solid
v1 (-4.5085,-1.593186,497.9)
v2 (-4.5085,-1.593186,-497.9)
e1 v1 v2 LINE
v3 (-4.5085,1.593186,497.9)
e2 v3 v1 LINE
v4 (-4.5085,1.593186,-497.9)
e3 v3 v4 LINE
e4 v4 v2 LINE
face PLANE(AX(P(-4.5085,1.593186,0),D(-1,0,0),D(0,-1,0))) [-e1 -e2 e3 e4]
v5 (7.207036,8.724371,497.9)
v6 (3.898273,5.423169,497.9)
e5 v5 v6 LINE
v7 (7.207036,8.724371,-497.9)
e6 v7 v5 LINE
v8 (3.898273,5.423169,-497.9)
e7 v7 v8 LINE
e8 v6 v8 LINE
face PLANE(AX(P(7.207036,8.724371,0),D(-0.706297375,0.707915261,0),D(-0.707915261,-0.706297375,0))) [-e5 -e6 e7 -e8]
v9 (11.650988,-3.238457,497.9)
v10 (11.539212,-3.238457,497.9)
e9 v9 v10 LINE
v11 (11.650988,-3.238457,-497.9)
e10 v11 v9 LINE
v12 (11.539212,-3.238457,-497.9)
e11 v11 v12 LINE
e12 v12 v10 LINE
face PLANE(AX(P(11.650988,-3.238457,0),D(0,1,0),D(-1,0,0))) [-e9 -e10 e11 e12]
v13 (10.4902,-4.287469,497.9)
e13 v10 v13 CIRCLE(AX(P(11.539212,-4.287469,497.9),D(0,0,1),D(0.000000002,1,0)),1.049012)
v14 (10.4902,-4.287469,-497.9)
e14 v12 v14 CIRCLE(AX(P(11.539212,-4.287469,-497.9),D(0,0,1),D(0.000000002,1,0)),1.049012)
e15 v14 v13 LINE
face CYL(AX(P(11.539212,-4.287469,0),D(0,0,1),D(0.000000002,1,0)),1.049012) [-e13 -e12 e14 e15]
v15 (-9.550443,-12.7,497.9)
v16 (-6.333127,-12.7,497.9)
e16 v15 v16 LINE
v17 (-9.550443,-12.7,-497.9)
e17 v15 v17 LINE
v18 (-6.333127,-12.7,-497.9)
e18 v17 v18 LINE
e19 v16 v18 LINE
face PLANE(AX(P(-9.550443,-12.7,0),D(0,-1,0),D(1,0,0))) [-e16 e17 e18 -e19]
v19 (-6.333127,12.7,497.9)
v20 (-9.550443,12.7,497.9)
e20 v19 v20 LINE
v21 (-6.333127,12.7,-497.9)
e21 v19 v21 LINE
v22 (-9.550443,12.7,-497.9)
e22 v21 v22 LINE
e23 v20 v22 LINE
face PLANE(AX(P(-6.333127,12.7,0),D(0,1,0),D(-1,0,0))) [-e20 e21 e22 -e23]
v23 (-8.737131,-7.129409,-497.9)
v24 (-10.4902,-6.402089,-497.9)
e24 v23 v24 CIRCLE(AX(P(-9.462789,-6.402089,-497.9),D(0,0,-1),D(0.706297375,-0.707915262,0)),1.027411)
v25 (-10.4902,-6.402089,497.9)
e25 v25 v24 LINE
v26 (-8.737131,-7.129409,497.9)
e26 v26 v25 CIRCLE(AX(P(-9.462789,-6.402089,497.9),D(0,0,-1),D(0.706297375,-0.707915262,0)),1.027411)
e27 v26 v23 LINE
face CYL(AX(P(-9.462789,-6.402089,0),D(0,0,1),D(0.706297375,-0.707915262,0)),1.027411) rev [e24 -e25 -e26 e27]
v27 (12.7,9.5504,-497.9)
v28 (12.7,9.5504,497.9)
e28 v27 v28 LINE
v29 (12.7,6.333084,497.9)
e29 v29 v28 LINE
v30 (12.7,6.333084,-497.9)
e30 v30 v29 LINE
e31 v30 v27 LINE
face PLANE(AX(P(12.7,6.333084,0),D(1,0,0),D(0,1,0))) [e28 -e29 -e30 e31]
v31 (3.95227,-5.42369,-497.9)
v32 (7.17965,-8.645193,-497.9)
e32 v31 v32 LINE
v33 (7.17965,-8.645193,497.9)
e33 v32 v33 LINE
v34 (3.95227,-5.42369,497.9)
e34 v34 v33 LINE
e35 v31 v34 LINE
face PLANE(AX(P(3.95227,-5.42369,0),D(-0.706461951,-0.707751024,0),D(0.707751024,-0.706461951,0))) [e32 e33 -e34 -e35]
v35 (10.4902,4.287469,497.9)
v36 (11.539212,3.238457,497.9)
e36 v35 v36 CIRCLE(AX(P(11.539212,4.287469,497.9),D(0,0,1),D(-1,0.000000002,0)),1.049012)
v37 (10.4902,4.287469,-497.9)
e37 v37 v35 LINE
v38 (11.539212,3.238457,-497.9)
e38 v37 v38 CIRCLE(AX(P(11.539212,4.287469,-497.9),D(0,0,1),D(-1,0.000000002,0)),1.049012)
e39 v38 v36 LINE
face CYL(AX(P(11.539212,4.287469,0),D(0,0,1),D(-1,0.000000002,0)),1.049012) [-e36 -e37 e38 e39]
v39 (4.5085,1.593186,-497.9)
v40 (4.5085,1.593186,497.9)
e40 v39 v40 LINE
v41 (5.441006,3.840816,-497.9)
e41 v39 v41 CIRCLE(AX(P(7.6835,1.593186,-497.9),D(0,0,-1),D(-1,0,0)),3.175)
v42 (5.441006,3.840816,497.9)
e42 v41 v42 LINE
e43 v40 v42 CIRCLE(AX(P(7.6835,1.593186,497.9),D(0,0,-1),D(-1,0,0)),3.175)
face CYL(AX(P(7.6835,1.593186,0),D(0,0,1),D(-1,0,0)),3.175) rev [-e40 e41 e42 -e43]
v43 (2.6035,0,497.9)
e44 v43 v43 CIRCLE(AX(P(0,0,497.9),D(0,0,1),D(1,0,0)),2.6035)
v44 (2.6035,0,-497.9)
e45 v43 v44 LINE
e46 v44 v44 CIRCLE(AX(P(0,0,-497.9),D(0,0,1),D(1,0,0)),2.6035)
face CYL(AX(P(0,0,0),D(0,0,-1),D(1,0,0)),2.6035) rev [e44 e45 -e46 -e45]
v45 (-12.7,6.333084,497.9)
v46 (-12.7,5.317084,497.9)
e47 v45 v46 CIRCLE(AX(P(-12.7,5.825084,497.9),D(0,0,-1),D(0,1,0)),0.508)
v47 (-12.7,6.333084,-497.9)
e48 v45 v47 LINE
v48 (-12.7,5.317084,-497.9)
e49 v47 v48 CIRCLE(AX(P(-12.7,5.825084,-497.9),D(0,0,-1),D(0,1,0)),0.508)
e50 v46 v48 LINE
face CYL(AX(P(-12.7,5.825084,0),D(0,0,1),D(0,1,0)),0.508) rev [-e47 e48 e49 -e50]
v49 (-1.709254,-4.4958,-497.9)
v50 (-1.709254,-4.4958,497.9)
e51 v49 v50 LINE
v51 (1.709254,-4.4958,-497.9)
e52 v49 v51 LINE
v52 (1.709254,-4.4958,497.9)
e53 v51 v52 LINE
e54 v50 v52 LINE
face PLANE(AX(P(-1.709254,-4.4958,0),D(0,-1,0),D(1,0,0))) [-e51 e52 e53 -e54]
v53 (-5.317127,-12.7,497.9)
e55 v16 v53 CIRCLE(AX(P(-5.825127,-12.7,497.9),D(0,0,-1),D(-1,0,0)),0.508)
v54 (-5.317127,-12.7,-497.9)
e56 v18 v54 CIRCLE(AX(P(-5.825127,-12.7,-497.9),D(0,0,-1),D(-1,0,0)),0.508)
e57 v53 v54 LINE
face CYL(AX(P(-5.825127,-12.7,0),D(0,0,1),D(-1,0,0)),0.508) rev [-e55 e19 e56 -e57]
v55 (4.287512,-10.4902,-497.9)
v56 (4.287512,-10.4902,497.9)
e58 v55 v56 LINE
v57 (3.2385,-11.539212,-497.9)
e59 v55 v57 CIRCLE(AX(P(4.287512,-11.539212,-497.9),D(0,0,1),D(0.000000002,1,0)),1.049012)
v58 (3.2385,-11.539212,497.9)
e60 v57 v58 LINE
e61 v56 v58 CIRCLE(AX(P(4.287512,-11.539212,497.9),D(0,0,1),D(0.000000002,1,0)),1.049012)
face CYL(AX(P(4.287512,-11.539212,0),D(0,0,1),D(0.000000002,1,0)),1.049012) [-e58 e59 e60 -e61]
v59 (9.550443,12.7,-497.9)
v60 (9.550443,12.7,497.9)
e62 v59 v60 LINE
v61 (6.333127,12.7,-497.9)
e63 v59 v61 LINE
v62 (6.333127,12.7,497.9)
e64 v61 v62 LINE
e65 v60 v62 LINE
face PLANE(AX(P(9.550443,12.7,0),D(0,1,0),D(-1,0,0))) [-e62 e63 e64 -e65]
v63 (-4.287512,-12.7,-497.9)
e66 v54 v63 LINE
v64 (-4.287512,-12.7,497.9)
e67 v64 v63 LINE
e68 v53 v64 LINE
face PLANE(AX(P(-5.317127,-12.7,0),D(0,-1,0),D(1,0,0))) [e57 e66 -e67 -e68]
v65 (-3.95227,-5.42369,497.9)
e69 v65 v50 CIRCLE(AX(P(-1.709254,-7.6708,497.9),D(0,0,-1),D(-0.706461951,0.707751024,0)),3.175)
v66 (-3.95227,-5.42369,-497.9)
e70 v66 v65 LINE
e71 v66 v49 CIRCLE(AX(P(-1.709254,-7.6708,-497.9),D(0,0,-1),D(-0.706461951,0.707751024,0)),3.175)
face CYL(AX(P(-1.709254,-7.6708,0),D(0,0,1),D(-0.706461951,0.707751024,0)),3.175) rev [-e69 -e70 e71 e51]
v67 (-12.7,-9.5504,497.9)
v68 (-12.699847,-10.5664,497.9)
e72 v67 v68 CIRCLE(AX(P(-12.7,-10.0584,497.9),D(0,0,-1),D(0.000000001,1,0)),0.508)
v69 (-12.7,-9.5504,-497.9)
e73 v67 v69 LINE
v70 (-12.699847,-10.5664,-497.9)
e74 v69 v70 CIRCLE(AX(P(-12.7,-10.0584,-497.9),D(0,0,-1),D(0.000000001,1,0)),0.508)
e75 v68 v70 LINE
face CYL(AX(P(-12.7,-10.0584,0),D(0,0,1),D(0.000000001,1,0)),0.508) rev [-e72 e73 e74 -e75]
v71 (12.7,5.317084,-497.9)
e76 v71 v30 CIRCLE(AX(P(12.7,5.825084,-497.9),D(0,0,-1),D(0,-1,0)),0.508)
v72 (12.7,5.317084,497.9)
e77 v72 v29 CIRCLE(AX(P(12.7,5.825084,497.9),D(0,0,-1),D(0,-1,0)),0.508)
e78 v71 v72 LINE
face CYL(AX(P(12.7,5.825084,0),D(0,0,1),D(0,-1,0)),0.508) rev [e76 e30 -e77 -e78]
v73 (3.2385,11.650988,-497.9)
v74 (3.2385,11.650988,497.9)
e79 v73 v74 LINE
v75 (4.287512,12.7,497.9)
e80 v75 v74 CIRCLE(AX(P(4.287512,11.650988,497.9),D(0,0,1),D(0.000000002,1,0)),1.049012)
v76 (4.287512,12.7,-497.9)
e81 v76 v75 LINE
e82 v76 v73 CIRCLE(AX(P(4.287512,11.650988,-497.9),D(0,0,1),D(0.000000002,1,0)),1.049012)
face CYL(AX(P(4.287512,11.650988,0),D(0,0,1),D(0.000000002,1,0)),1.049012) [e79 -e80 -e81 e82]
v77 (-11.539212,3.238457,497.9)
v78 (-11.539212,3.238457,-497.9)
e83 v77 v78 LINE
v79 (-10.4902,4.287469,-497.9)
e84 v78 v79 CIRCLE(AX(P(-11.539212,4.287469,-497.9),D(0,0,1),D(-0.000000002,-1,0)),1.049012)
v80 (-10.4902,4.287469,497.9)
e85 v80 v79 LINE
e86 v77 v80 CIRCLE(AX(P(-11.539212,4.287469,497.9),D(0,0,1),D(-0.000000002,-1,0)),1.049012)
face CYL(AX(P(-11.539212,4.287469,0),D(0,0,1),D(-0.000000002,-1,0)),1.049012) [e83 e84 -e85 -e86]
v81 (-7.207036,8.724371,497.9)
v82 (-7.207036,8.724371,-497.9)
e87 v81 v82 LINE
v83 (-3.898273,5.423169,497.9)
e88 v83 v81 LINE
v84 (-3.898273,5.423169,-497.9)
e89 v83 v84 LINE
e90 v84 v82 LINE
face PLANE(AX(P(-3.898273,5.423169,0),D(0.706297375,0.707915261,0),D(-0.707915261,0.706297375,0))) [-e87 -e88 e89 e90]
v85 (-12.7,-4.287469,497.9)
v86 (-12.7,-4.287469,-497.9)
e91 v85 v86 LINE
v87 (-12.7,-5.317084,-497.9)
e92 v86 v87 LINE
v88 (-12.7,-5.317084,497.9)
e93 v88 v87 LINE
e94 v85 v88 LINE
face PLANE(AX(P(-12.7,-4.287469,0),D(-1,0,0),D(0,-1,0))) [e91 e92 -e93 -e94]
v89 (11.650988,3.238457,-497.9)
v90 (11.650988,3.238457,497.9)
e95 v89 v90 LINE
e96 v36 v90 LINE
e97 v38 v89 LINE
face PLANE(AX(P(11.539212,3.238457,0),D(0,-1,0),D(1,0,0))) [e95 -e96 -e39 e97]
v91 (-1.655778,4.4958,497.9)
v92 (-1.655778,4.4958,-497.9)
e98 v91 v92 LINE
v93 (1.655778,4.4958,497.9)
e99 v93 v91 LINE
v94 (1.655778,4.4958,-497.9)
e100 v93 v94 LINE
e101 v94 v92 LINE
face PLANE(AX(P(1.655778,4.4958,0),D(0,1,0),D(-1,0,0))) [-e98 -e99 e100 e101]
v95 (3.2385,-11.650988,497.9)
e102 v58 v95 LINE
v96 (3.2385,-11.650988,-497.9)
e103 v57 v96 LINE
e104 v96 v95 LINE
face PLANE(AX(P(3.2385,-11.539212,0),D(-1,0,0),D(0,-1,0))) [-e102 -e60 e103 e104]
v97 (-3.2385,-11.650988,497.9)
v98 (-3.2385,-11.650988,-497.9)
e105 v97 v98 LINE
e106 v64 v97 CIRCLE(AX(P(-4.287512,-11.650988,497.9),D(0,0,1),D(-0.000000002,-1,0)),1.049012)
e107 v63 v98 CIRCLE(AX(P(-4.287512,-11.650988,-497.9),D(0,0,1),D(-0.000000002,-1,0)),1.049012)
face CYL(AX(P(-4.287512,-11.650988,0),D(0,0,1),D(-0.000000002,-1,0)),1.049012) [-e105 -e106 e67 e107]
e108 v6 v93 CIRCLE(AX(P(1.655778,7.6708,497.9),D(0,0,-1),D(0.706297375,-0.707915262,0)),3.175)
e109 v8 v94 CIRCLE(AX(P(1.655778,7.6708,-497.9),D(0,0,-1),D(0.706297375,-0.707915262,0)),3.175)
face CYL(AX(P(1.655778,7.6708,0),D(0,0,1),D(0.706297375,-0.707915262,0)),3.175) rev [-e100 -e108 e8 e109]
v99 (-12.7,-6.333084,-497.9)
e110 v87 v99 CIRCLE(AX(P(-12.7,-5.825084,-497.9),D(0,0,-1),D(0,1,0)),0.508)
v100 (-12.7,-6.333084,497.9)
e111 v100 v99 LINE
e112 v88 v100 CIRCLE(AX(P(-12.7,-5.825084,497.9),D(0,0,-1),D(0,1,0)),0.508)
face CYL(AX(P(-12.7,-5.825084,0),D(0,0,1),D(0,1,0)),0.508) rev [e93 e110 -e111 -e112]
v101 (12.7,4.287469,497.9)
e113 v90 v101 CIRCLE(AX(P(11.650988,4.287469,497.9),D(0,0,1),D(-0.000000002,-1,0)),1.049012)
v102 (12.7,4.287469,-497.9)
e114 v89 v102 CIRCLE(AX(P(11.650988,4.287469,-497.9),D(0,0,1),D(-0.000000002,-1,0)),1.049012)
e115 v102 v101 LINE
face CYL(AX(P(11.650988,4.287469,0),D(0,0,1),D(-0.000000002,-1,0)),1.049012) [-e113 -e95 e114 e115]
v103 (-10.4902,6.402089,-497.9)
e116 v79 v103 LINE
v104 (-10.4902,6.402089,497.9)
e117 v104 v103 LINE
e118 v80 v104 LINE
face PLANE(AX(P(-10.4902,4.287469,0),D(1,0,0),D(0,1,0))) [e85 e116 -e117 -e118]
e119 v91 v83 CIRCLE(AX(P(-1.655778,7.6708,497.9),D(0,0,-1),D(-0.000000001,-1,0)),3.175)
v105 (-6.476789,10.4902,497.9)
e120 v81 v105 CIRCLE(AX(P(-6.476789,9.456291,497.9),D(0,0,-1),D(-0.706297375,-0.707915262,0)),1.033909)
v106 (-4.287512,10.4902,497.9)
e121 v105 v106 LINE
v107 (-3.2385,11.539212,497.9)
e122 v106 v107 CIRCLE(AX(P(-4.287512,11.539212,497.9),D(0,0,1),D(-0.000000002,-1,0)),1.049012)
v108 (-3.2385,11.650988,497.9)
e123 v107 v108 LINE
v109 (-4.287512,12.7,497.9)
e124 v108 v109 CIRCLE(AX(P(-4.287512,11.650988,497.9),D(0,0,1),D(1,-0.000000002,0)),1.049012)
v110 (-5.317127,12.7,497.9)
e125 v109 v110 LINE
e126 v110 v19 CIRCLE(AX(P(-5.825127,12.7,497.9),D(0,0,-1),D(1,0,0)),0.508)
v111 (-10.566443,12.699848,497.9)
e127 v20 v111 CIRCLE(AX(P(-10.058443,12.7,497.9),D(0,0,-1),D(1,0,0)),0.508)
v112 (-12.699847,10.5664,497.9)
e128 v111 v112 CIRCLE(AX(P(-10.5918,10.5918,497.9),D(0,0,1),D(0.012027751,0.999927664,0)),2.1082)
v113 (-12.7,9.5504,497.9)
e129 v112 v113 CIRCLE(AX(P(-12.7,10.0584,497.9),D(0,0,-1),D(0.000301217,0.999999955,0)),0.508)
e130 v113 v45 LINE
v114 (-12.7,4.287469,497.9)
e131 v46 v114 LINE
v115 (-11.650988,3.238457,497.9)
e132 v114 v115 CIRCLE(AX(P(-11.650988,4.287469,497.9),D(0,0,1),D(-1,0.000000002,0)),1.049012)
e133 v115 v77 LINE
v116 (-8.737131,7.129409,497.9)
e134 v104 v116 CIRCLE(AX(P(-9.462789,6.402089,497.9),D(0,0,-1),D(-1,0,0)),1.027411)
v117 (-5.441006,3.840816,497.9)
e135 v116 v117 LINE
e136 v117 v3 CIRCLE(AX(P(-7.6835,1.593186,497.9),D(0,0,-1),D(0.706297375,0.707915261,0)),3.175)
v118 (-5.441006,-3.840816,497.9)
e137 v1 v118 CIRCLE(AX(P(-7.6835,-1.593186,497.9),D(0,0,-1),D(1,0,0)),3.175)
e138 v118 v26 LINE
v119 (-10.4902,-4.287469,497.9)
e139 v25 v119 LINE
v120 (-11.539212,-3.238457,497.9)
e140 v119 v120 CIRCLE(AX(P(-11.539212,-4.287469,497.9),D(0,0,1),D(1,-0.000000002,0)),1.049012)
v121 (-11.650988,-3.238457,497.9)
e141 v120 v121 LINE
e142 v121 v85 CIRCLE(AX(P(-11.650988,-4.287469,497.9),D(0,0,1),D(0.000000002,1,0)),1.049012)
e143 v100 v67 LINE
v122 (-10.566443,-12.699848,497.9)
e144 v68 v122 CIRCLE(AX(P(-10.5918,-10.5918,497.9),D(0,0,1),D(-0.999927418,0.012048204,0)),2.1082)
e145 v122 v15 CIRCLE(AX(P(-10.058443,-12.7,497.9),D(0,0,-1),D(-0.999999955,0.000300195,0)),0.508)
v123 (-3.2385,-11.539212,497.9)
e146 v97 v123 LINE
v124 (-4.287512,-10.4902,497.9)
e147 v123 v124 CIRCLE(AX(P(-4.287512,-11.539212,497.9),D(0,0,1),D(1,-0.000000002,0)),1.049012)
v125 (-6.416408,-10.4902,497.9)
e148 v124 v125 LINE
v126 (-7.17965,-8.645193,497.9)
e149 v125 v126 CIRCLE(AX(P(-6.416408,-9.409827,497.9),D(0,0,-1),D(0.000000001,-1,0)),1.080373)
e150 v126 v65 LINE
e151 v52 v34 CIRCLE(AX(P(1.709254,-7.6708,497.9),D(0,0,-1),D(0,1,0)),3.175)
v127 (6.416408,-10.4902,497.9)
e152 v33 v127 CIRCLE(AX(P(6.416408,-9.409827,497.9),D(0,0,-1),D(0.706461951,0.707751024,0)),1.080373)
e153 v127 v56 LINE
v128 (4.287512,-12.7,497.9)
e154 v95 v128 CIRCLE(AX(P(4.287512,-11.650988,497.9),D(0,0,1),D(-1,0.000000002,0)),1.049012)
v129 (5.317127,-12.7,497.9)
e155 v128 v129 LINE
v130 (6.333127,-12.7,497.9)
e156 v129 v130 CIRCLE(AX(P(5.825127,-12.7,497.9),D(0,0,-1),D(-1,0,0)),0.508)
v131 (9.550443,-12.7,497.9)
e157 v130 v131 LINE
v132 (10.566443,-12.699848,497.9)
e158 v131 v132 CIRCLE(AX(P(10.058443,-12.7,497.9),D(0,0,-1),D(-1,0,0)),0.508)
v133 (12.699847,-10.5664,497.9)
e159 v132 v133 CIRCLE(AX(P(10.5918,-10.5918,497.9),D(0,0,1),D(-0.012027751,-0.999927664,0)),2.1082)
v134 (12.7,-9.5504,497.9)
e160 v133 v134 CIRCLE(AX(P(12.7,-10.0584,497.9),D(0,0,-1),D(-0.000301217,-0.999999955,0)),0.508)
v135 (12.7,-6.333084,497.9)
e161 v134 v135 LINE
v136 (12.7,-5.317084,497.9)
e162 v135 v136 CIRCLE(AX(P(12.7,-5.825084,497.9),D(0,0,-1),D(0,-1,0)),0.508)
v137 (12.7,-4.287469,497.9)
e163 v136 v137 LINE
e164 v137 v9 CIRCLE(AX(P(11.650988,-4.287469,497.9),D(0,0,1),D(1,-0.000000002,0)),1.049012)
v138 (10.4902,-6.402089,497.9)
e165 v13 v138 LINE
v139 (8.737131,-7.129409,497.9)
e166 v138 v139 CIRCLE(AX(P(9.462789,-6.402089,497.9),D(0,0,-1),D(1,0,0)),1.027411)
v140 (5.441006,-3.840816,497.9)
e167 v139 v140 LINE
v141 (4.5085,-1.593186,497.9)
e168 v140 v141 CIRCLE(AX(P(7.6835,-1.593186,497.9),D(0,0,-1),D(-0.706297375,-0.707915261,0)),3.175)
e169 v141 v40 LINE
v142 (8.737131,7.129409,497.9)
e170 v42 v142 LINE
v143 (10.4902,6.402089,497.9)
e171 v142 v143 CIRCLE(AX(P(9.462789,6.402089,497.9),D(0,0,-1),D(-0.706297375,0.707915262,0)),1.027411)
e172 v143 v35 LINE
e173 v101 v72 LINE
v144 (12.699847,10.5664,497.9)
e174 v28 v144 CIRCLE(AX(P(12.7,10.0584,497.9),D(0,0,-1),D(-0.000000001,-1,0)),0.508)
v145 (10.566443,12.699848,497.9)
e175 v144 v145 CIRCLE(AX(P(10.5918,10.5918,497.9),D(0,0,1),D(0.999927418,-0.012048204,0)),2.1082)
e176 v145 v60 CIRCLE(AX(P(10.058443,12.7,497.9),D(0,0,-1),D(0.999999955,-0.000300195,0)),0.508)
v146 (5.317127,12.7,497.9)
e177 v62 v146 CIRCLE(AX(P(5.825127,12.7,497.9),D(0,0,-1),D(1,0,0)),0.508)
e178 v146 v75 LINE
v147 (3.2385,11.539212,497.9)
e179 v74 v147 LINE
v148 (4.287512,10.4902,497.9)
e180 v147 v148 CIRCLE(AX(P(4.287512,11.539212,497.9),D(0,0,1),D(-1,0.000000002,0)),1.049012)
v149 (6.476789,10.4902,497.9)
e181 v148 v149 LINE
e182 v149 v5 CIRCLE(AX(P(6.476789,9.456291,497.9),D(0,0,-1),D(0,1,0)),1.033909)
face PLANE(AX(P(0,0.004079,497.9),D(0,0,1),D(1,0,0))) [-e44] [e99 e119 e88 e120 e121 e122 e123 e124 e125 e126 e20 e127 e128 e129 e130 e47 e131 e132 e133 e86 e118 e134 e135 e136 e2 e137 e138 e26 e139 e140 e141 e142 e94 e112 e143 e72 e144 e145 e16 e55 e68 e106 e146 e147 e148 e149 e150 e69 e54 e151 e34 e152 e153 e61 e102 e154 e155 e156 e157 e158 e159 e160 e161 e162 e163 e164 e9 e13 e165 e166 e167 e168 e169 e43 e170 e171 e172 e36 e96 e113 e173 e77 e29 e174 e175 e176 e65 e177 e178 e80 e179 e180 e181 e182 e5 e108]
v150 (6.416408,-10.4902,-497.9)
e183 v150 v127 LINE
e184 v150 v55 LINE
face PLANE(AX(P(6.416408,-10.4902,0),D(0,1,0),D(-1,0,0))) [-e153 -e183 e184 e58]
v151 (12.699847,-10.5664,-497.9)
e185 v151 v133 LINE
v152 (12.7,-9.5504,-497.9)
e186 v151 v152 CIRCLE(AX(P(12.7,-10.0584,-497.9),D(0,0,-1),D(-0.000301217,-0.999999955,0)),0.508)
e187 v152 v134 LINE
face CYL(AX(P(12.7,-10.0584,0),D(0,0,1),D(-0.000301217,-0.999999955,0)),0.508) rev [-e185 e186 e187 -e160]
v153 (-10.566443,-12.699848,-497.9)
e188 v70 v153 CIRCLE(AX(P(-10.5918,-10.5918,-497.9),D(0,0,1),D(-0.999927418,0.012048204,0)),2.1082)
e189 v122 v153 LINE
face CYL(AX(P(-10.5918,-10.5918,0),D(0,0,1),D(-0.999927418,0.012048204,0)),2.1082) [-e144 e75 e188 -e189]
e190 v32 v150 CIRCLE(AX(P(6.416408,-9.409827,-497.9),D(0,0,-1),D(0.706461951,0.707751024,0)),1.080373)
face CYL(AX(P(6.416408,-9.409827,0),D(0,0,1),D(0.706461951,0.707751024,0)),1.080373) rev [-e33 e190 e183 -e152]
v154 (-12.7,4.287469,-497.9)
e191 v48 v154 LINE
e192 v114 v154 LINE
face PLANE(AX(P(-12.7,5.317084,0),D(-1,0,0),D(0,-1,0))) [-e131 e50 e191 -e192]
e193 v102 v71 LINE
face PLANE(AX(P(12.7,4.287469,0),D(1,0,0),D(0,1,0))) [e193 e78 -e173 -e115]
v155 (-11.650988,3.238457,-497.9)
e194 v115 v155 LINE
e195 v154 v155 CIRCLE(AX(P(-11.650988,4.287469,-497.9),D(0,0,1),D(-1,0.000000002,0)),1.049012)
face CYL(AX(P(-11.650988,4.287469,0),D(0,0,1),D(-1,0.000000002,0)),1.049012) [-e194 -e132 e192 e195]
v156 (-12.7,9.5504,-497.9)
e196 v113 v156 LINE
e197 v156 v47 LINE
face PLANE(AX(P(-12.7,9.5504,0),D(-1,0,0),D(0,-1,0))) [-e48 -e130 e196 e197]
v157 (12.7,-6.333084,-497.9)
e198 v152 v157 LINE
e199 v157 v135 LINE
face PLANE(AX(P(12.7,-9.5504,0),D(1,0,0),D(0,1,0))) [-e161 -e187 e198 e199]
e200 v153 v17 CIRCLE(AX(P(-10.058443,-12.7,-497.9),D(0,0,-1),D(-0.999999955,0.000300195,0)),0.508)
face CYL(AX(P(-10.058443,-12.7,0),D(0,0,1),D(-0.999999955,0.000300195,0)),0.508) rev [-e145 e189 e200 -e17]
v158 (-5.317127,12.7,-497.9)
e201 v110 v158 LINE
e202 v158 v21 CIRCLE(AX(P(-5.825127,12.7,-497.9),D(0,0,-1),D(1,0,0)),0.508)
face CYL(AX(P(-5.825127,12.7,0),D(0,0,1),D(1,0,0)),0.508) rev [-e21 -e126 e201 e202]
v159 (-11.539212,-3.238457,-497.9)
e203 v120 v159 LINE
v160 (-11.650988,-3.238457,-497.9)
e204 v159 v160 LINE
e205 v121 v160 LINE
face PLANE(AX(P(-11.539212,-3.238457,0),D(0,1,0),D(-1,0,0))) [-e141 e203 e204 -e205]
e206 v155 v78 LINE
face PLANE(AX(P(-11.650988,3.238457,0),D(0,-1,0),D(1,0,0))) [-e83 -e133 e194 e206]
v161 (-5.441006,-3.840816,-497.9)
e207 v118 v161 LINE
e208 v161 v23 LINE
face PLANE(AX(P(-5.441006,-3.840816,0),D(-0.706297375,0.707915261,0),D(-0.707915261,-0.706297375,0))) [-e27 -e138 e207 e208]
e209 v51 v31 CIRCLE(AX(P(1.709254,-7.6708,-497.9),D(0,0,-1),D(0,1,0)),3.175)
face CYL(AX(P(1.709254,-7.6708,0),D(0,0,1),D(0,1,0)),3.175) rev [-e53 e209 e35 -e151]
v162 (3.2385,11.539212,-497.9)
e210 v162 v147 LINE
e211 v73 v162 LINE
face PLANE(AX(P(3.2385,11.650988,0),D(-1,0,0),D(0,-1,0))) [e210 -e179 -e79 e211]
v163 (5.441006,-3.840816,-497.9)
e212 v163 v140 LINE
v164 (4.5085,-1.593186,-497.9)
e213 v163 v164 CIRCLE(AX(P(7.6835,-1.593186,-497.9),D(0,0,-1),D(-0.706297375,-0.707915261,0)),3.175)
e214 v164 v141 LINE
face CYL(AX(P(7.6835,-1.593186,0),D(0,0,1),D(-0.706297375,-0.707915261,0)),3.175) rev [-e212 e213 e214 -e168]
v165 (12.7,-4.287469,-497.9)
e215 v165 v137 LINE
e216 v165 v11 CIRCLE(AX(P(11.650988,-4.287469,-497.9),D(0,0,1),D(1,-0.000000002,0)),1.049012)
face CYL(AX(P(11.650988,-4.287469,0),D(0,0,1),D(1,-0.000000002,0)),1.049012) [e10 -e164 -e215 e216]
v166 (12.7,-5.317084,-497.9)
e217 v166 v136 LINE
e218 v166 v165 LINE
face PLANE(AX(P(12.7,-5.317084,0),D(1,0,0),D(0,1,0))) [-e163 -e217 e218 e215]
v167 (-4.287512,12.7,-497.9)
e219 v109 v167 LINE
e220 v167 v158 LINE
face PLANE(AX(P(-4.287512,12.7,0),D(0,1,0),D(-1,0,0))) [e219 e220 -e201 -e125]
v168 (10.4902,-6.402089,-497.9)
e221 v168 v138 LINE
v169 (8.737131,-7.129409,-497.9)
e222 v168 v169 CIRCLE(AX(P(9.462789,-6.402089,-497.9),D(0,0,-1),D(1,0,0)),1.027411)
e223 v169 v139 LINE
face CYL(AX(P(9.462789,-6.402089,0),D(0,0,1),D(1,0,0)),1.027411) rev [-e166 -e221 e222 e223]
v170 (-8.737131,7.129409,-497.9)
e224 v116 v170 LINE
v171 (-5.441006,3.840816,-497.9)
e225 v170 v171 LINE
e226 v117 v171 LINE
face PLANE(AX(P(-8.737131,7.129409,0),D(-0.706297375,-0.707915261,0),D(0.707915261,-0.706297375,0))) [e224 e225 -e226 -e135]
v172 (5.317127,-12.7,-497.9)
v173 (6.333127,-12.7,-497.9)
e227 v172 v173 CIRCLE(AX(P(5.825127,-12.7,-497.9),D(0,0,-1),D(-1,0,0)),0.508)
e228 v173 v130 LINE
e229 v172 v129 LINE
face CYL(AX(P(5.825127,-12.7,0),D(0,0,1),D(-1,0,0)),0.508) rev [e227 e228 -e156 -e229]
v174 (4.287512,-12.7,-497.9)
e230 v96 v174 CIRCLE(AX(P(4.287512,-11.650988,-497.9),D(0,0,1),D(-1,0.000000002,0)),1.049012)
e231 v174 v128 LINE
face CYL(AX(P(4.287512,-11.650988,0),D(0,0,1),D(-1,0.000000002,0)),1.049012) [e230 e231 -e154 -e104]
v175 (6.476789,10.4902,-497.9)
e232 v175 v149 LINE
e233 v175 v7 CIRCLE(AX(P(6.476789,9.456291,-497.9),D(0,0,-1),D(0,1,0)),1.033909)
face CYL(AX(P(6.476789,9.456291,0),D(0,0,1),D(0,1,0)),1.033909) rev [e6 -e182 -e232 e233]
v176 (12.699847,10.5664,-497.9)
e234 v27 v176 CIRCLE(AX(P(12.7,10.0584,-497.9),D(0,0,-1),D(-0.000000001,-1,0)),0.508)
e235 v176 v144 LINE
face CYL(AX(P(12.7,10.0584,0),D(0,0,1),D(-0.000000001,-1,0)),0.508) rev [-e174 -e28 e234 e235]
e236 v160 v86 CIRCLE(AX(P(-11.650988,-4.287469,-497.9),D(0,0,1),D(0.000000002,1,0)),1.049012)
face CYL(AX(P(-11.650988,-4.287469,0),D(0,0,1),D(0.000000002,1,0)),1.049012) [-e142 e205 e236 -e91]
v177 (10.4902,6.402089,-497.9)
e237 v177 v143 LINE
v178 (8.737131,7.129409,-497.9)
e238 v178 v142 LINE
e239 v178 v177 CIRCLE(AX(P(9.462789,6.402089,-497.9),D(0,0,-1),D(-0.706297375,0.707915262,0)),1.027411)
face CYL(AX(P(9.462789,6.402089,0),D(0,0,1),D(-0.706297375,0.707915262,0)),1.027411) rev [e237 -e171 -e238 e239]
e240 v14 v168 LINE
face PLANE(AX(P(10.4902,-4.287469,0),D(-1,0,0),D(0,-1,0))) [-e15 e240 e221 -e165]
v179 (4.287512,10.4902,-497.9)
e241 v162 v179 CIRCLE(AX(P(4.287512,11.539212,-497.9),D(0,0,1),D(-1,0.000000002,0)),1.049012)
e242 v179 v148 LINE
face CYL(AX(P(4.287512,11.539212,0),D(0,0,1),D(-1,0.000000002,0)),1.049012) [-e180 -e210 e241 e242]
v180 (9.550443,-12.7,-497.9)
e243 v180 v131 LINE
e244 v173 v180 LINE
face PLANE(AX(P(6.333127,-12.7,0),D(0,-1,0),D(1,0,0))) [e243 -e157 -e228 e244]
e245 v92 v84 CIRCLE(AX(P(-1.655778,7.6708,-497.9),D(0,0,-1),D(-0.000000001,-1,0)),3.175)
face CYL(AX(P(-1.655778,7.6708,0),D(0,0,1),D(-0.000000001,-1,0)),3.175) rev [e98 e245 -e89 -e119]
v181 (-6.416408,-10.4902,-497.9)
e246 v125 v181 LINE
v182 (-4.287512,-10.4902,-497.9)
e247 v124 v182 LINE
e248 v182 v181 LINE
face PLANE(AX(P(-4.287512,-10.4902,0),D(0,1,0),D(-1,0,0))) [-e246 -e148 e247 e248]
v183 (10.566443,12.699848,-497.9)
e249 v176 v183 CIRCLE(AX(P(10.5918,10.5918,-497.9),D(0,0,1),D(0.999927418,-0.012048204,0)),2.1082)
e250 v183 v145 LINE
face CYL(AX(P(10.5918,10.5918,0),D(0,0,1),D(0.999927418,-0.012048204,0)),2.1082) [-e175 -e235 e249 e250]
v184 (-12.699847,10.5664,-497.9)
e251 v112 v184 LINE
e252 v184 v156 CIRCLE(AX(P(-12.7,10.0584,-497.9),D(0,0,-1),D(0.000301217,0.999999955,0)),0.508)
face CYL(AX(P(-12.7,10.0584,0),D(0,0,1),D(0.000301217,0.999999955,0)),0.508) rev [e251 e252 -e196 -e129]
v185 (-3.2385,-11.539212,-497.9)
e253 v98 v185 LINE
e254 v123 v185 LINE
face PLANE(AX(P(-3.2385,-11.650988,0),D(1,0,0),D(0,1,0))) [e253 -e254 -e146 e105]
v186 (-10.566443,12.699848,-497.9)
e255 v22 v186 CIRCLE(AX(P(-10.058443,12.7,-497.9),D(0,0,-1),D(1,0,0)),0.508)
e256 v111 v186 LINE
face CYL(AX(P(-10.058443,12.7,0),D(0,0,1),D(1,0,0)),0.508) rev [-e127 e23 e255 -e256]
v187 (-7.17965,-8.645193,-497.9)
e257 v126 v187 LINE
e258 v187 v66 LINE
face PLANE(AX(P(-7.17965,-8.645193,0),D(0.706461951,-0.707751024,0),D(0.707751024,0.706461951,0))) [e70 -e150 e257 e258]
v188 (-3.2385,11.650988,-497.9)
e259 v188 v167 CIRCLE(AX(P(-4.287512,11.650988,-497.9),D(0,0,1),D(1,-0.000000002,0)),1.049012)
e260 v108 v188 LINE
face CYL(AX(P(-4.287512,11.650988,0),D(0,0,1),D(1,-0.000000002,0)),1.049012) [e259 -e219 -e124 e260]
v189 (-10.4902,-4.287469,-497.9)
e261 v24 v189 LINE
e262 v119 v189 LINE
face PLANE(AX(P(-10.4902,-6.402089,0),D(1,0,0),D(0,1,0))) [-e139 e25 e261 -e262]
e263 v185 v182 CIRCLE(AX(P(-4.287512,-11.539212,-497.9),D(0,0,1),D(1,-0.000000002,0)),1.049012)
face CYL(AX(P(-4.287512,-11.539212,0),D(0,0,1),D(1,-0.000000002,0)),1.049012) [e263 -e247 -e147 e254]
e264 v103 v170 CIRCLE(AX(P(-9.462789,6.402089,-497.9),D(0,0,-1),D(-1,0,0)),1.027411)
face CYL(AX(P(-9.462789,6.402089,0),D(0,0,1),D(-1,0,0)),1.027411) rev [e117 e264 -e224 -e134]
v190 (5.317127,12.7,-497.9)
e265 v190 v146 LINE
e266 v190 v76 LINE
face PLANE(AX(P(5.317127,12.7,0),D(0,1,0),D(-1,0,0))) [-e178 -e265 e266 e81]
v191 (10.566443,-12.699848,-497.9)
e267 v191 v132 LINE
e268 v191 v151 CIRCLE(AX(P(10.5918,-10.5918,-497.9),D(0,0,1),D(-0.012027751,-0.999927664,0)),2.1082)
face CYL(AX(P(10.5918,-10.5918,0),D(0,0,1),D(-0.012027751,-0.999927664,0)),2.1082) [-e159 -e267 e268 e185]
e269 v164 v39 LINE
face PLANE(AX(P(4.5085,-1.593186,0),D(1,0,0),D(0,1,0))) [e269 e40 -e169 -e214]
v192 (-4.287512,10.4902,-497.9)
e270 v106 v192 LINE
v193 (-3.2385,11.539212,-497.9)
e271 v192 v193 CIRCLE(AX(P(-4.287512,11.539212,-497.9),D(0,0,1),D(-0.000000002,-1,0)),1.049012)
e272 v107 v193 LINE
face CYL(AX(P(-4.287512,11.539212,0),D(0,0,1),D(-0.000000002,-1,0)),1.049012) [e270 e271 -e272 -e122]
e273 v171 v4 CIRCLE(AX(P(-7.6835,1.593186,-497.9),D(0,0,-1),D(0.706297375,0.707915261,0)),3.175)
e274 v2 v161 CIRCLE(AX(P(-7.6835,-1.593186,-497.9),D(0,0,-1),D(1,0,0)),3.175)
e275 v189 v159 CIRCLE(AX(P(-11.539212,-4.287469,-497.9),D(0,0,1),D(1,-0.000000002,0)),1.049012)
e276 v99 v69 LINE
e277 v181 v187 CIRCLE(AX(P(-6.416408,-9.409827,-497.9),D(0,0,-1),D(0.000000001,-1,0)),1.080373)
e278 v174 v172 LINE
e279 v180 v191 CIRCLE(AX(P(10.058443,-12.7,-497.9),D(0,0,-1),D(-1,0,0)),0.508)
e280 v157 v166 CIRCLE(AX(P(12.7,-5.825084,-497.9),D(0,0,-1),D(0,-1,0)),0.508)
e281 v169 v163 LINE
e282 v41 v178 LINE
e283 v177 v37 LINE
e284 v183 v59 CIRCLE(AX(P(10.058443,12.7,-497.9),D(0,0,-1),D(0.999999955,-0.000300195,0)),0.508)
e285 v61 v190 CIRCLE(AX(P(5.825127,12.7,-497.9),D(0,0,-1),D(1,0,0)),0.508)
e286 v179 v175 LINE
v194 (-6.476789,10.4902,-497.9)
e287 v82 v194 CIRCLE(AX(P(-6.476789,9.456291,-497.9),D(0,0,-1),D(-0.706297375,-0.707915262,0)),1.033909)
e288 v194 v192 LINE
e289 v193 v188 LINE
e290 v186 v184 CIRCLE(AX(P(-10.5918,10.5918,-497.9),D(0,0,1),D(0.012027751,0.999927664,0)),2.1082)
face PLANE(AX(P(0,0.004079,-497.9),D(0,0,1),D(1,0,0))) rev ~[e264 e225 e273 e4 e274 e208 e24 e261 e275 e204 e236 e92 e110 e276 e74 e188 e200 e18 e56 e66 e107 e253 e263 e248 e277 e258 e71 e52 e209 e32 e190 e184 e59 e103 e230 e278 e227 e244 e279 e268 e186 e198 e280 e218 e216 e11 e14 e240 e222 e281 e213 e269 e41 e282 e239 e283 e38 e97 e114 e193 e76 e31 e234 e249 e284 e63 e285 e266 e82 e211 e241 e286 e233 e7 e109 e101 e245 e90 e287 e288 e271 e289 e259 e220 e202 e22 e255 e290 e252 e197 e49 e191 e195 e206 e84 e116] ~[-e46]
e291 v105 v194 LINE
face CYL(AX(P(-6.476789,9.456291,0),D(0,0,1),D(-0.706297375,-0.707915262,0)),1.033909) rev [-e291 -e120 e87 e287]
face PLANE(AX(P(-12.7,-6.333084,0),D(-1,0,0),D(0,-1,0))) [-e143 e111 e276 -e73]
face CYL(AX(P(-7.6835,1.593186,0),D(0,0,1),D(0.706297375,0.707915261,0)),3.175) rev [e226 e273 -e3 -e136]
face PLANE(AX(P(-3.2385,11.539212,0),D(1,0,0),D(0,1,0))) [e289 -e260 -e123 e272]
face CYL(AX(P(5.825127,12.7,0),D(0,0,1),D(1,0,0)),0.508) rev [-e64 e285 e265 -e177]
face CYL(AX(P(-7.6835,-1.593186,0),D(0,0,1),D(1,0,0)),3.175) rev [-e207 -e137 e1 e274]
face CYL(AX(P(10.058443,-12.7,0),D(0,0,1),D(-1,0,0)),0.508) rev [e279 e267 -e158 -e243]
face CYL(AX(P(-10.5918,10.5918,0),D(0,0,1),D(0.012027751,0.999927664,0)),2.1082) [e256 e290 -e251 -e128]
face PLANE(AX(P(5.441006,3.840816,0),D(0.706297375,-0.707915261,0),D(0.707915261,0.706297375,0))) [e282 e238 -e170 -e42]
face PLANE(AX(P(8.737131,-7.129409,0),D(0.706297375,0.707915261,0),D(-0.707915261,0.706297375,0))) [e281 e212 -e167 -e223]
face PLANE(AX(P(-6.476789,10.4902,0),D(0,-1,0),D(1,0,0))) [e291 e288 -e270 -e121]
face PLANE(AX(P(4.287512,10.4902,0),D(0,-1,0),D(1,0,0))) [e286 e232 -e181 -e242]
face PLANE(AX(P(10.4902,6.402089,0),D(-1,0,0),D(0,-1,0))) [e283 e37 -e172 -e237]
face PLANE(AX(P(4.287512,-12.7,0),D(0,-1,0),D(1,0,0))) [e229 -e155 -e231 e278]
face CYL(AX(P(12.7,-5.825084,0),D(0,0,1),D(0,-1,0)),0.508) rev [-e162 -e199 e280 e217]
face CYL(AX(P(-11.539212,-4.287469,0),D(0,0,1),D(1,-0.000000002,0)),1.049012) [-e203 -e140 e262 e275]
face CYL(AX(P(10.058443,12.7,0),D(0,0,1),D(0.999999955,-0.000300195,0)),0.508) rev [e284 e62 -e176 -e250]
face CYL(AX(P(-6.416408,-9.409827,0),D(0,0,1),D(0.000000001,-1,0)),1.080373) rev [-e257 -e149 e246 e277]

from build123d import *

# Parameters (mm, degrees)
SKETCH1_R           = 2.6035
BOSS_EXTRUDE1_DEPTH = 497.9


with BuildPart() as part:
    # Sketch1 → Boss-Extrude1 (new body, symmetric)
    with BuildSketch(Plane.XY):
        with BuildLine():
            Line((-7.179650497, -8.645192506), (-3.952270251, -5.423690499))
            ThreePointArc((-3.952270251, -5.423690499), (-2.922936451, -4.736929036), (-1.709253557, -4.4958))
            Line((-1.709253557, -4.4958), (1.709253557, -4.4958))
            ThreePointArc((1.709253557, -4.4958), (2.922936451, -4.736929036), (3.952270251, -5.423690499))
            Line((3.952270251, -5.423690499), (7.179650497, -8.645192506))
            ThreePointArc((7.179650497, -8.645192506), (7.41473083, -9.822813117), (6.416408329, -10.4902))
            Line((6.416408329, -10.4902), (4.287512407, -10.4902))
            ThreePointArc((4.287512407, -10.4902), (3.54574862, -10.79744862), (3.2385, -11.539212407))
            Line((3.2385, -11.539212407), (3.2385, -11.650987593))
            ThreePointArc((3.2385, -11.650987593), (3.54574862, -12.39275138), (4.287512407, -12.7))
            Line((4.287512407, -12.7), (5.317126718, -12.7))
            ThreePointArc((5.317126718, -12.7), (5.825126718, -12.192), (6.333126718, -12.7))
            Line((6.333126718, -12.7), (9.550443118, -12.7))
            ThreePointArc((9.550443118, -12.7), (10.058366869, -12.192000006), (10.566443095, -12.699847501))
            ThreePointArc((10.566443095, -12.699847501), (12.082537762, -12.08250727), (12.699846982, -10.566399977))
            ThreePointArc((12.699846982, -10.566399977), (12.192000006, -10.058323491), (12.7, -9.5504))
            Line((12.7, -9.5504), (12.7, -6.3330836))
            ThreePointArc((12.7, -6.3330836), (12.192, -5.8250836), (12.7, -5.3170836))
            Line((12.7, -5.3170836), (12.7, -4.287469289))
            ThreePointArc((12.7, -4.287469289), (12.39275138, -3.545705502), (11.650987593, -3.238456882))
            Line((11.650987593, -3.238456882), (11.539212407, -3.238456882))
            ThreePointArc((11.539212407, -3.238456882), (10.79744862, -3.545705502), (10.4902, -4.287469289))
            Line((10.4902, -4.287469289), (10.4902, -6.402089023))
            ThreePointArc((10.4902, -6.402089023), (9.856505071, -7.351067942), (8.737131347, -7.129408934))
            Line((8.737131347, -7.129408934), (5.441005833, -3.840816462))
            ThreePointArc((5.441005833, -3.840816462), (4.750877967, -2.809883091), (4.5085, -1.593185507))
            Line((4.5085, -1.593185507), (4.5085, 1.593185507))
            ThreePointArc((4.5085, 1.593185507), (4.750877967, 2.809883091), (5.441005833, 3.840816462))
            Line((5.441005833, 3.840816462), (8.737131347, 7.129408934))
            ThreePointArc((8.737131347, 7.129408934), (9.856505071, 7.351067942), (10.4902, 6.402089023))
            Line((10.4902, 6.402089023), (10.4902, 4.287469289))
            ThreePointArc((10.4902, 4.287469289), (10.79744862, 3.545705502), (11.539212407, 3.238456882))
            Line((11.539212407, 3.238456882), (11.650987593, 3.238456882))
            ThreePointArc((11.650987593, 3.238456882), (12.39275138, 3.545705502), (12.7, 4.287469289))
            Line((12.7, 4.287469289), (12.7, 5.3170836))
            ThreePointArc((12.7, 5.3170836), (12.192, 5.8250836), (12.7, 6.3330836))
            Line((12.7, 6.3330836), (12.7, 9.5504))
            ThreePointArc((12.7, 9.5504), (12.192000006, 10.058323491), (12.699846982, 10.566399977))
            ThreePointArc((12.699846982, 10.566399977), (12.082537762, 12.08250727), (10.566443095, 12.699847501))
            ThreePointArc((10.566443095, 12.699847501), (10.058366869, 12.192000006), (9.550443118, 12.7))
            Line((9.550443118, 12.7), (6.333126718, 12.7))
            ThreePointArc((6.333126718, 12.7), (5.825126718, 12.192), (5.317126718, 12.7))
            Line((5.317126718, 12.7), (4.287512407, 12.7))
            ThreePointArc((4.287512407, 12.7), (3.54574862, 12.39275138), (3.2385, 11.650987593))
            Line((3.2385, 11.650987593), (3.2385, 11.539212407))
            ThreePointArc((3.2385, 11.539212407), (3.54574862, 10.79744862), (4.287512407, 10.4902))
            Line((4.287512407, 10.4902), (6.476788598, 10.4902))
            ThreePointArc((6.476788598, 10.4902), (7.432222385, 9.85140422), (7.207036008, 8.724370562))
            Line((7.207036008, 8.724370562), (3.898272566, 5.423169045))
            ThreePointArc((3.898272566, 5.423169045), (2.869120213, 4.736787962), (1.655778399, 4.4958))
            Line((1.655778399, 4.4958), (-1.655778399, 4.4958))
            ThreePointArc((-1.655778399, 4.4958), (-2.869120213, 4.736787962), (-3.898272566, 5.423169045))
            Line((-3.898272566, 5.423169045), (-7.207036008, 8.724370562))
            ThreePointArc((-7.207036008, 8.724370562), (-7.432222385, 9.85140422), (-6.476788598, 10.4902))
            Line((-6.476788598, 10.4902), (-4.287512407, 10.4902))
            ThreePointArc((-4.287512407, 10.4902), (-3.54574862, 10.79744862), (-3.2385, 11.539212407))
            Line((-3.2385, 11.539212407), (-3.2385, 11.650987593))
            ThreePointArc((-3.2385, 11.650987593), (-3.54574862, 12.39275138), (-4.287512407, 12.7))
            Line((-4.287512407, 12.7), (-5.317126718, 12.7))
            ThreePointArc((-5.317126718, 12.7), (-5.825126718, 12.192), (-6.333126718, 12.7))
            Line((-6.333126718, 12.7), (-9.550443118, 12.7))
            ThreePointArc((-9.550443118, 12.7), (-10.058366869, 12.192000006), (-10.566443095, 12.699847501))
            ThreePointArc((-10.566443095, 12.699847501), (-12.082537762, 12.08250727), (-12.699846982, 10.566399977))
            ThreePointArc((-12.699846982, 10.566399977), (-12.192000006, 10.058323491), (-12.7, 9.5504))
            Line((-12.7, 9.5504), (-12.7, 6.3330836))
            ThreePointArc((-12.7, 6.3330836), (-12.192, 5.8250836), (-12.7, 5.3170836))
            Line((-12.7, 5.3170836), (-12.7, 4.287469289))
            ThreePointArc((-12.7, 4.287469289), (-12.39275138, 3.545705502), (-11.650987593, 3.238456882))
            Line((-11.650987593, 3.238456882), (-11.539212407, 3.238456882))
            ThreePointArc((-11.539212407, 3.238456882), (-10.79744862, 3.545705502), (-10.4902, 4.287469289))
            Line((-10.4902, 4.287469289), (-10.4902, 6.402089023))
            ThreePointArc((-10.4902, 6.402089023), (-9.856505071, 7.351067942), (-8.737131347, 7.129408934))
            Line((-8.737131347, 7.129408934), (-5.441005833, 3.840816462))
            ThreePointArc((-5.441005833, 3.840816462), (-4.750877967, 2.809883091), (-4.5085, 1.593185507))
            Line((-4.5085, 1.593185507), (-4.5085, -1.593185507))
            ThreePointArc((-4.5085, -1.593185507), (-4.750877967, -2.809883091), (-5.441005833, -3.840816462))
            Line((-5.441005833, -3.840816462), (-8.737131347, -7.129408934))
            ThreePointArc((-8.737131347, -7.129408934), (-9.856505071, -7.351067942), (-10.4902, -6.402089023))
            Line((-10.4902, -6.402089023), (-10.4902, -4.287469289))
            ThreePointArc((-10.4902, -4.287469289), (-10.79744862, -3.545705502), (-11.539212407, -3.238456882))
            Line((-11.539212407, -3.238456882), (-11.650987593, -3.238456882))
            ThreePointArc((-11.650987593, -3.238456882), (-12.39275138, -3.545705502), (-12.7, -4.287469289))
            Line((-12.7, -4.287469289), (-12.7, -5.3170836))
            ThreePointArc((-12.7, -5.3170836), (-12.192, -5.8250836), (-12.7, -6.3330836))
            Line((-12.7, -6.3330836), (-12.7, -9.5504))
            ThreePointArc((-12.7, -9.5504), (-12.192000006, -10.058323491), (-12.699846982, -10.566399977))
            ThreePointArc((-12.699846982, -10.566399977), (-12.082537762, -12.08250727), (-10.566443095, -12.699847501))
            ThreePointArc((-10.566443095, -12.699847501), (-10.058366869, -12.192000006), (-9.550443118, -12.7))
            Line((-9.550443118, -12.7), (-6.333126718, -12.7))
            ThreePointArc((-6.333126718, -12.7), (-5.825126718, -12.192), (-5.317126718, -12.7))
            Line((-5.317126718, -12.7), (-4.287512407, -12.7))
            ThreePointArc((-4.287512407, -12.7), (-3.54574862, -12.39275138), (-3.2385, -11.650987593))
            Line((-3.2385, -11.650987593), (-3.2385, -11.539212407))
            ThreePointArc((-3.2385, -11.539212407), (-3.54574862, -10.79744862), (-4.287512407, -10.4902))
            Line((-4.287512407, -10.4902), (-6.416408329, -10.4902))
            ThreePointArc((-6.416408329, -10.4902), (-7.41473083, -9.822813117), (-7.179650497, -8.645192506))
        make_face()
        Circle(SKETCH1_R, mode=Mode.SUBTRACT)
    extrude(amount=BOSS_EXTRUDE1_DEPTH, both=True)


solid = part.part
